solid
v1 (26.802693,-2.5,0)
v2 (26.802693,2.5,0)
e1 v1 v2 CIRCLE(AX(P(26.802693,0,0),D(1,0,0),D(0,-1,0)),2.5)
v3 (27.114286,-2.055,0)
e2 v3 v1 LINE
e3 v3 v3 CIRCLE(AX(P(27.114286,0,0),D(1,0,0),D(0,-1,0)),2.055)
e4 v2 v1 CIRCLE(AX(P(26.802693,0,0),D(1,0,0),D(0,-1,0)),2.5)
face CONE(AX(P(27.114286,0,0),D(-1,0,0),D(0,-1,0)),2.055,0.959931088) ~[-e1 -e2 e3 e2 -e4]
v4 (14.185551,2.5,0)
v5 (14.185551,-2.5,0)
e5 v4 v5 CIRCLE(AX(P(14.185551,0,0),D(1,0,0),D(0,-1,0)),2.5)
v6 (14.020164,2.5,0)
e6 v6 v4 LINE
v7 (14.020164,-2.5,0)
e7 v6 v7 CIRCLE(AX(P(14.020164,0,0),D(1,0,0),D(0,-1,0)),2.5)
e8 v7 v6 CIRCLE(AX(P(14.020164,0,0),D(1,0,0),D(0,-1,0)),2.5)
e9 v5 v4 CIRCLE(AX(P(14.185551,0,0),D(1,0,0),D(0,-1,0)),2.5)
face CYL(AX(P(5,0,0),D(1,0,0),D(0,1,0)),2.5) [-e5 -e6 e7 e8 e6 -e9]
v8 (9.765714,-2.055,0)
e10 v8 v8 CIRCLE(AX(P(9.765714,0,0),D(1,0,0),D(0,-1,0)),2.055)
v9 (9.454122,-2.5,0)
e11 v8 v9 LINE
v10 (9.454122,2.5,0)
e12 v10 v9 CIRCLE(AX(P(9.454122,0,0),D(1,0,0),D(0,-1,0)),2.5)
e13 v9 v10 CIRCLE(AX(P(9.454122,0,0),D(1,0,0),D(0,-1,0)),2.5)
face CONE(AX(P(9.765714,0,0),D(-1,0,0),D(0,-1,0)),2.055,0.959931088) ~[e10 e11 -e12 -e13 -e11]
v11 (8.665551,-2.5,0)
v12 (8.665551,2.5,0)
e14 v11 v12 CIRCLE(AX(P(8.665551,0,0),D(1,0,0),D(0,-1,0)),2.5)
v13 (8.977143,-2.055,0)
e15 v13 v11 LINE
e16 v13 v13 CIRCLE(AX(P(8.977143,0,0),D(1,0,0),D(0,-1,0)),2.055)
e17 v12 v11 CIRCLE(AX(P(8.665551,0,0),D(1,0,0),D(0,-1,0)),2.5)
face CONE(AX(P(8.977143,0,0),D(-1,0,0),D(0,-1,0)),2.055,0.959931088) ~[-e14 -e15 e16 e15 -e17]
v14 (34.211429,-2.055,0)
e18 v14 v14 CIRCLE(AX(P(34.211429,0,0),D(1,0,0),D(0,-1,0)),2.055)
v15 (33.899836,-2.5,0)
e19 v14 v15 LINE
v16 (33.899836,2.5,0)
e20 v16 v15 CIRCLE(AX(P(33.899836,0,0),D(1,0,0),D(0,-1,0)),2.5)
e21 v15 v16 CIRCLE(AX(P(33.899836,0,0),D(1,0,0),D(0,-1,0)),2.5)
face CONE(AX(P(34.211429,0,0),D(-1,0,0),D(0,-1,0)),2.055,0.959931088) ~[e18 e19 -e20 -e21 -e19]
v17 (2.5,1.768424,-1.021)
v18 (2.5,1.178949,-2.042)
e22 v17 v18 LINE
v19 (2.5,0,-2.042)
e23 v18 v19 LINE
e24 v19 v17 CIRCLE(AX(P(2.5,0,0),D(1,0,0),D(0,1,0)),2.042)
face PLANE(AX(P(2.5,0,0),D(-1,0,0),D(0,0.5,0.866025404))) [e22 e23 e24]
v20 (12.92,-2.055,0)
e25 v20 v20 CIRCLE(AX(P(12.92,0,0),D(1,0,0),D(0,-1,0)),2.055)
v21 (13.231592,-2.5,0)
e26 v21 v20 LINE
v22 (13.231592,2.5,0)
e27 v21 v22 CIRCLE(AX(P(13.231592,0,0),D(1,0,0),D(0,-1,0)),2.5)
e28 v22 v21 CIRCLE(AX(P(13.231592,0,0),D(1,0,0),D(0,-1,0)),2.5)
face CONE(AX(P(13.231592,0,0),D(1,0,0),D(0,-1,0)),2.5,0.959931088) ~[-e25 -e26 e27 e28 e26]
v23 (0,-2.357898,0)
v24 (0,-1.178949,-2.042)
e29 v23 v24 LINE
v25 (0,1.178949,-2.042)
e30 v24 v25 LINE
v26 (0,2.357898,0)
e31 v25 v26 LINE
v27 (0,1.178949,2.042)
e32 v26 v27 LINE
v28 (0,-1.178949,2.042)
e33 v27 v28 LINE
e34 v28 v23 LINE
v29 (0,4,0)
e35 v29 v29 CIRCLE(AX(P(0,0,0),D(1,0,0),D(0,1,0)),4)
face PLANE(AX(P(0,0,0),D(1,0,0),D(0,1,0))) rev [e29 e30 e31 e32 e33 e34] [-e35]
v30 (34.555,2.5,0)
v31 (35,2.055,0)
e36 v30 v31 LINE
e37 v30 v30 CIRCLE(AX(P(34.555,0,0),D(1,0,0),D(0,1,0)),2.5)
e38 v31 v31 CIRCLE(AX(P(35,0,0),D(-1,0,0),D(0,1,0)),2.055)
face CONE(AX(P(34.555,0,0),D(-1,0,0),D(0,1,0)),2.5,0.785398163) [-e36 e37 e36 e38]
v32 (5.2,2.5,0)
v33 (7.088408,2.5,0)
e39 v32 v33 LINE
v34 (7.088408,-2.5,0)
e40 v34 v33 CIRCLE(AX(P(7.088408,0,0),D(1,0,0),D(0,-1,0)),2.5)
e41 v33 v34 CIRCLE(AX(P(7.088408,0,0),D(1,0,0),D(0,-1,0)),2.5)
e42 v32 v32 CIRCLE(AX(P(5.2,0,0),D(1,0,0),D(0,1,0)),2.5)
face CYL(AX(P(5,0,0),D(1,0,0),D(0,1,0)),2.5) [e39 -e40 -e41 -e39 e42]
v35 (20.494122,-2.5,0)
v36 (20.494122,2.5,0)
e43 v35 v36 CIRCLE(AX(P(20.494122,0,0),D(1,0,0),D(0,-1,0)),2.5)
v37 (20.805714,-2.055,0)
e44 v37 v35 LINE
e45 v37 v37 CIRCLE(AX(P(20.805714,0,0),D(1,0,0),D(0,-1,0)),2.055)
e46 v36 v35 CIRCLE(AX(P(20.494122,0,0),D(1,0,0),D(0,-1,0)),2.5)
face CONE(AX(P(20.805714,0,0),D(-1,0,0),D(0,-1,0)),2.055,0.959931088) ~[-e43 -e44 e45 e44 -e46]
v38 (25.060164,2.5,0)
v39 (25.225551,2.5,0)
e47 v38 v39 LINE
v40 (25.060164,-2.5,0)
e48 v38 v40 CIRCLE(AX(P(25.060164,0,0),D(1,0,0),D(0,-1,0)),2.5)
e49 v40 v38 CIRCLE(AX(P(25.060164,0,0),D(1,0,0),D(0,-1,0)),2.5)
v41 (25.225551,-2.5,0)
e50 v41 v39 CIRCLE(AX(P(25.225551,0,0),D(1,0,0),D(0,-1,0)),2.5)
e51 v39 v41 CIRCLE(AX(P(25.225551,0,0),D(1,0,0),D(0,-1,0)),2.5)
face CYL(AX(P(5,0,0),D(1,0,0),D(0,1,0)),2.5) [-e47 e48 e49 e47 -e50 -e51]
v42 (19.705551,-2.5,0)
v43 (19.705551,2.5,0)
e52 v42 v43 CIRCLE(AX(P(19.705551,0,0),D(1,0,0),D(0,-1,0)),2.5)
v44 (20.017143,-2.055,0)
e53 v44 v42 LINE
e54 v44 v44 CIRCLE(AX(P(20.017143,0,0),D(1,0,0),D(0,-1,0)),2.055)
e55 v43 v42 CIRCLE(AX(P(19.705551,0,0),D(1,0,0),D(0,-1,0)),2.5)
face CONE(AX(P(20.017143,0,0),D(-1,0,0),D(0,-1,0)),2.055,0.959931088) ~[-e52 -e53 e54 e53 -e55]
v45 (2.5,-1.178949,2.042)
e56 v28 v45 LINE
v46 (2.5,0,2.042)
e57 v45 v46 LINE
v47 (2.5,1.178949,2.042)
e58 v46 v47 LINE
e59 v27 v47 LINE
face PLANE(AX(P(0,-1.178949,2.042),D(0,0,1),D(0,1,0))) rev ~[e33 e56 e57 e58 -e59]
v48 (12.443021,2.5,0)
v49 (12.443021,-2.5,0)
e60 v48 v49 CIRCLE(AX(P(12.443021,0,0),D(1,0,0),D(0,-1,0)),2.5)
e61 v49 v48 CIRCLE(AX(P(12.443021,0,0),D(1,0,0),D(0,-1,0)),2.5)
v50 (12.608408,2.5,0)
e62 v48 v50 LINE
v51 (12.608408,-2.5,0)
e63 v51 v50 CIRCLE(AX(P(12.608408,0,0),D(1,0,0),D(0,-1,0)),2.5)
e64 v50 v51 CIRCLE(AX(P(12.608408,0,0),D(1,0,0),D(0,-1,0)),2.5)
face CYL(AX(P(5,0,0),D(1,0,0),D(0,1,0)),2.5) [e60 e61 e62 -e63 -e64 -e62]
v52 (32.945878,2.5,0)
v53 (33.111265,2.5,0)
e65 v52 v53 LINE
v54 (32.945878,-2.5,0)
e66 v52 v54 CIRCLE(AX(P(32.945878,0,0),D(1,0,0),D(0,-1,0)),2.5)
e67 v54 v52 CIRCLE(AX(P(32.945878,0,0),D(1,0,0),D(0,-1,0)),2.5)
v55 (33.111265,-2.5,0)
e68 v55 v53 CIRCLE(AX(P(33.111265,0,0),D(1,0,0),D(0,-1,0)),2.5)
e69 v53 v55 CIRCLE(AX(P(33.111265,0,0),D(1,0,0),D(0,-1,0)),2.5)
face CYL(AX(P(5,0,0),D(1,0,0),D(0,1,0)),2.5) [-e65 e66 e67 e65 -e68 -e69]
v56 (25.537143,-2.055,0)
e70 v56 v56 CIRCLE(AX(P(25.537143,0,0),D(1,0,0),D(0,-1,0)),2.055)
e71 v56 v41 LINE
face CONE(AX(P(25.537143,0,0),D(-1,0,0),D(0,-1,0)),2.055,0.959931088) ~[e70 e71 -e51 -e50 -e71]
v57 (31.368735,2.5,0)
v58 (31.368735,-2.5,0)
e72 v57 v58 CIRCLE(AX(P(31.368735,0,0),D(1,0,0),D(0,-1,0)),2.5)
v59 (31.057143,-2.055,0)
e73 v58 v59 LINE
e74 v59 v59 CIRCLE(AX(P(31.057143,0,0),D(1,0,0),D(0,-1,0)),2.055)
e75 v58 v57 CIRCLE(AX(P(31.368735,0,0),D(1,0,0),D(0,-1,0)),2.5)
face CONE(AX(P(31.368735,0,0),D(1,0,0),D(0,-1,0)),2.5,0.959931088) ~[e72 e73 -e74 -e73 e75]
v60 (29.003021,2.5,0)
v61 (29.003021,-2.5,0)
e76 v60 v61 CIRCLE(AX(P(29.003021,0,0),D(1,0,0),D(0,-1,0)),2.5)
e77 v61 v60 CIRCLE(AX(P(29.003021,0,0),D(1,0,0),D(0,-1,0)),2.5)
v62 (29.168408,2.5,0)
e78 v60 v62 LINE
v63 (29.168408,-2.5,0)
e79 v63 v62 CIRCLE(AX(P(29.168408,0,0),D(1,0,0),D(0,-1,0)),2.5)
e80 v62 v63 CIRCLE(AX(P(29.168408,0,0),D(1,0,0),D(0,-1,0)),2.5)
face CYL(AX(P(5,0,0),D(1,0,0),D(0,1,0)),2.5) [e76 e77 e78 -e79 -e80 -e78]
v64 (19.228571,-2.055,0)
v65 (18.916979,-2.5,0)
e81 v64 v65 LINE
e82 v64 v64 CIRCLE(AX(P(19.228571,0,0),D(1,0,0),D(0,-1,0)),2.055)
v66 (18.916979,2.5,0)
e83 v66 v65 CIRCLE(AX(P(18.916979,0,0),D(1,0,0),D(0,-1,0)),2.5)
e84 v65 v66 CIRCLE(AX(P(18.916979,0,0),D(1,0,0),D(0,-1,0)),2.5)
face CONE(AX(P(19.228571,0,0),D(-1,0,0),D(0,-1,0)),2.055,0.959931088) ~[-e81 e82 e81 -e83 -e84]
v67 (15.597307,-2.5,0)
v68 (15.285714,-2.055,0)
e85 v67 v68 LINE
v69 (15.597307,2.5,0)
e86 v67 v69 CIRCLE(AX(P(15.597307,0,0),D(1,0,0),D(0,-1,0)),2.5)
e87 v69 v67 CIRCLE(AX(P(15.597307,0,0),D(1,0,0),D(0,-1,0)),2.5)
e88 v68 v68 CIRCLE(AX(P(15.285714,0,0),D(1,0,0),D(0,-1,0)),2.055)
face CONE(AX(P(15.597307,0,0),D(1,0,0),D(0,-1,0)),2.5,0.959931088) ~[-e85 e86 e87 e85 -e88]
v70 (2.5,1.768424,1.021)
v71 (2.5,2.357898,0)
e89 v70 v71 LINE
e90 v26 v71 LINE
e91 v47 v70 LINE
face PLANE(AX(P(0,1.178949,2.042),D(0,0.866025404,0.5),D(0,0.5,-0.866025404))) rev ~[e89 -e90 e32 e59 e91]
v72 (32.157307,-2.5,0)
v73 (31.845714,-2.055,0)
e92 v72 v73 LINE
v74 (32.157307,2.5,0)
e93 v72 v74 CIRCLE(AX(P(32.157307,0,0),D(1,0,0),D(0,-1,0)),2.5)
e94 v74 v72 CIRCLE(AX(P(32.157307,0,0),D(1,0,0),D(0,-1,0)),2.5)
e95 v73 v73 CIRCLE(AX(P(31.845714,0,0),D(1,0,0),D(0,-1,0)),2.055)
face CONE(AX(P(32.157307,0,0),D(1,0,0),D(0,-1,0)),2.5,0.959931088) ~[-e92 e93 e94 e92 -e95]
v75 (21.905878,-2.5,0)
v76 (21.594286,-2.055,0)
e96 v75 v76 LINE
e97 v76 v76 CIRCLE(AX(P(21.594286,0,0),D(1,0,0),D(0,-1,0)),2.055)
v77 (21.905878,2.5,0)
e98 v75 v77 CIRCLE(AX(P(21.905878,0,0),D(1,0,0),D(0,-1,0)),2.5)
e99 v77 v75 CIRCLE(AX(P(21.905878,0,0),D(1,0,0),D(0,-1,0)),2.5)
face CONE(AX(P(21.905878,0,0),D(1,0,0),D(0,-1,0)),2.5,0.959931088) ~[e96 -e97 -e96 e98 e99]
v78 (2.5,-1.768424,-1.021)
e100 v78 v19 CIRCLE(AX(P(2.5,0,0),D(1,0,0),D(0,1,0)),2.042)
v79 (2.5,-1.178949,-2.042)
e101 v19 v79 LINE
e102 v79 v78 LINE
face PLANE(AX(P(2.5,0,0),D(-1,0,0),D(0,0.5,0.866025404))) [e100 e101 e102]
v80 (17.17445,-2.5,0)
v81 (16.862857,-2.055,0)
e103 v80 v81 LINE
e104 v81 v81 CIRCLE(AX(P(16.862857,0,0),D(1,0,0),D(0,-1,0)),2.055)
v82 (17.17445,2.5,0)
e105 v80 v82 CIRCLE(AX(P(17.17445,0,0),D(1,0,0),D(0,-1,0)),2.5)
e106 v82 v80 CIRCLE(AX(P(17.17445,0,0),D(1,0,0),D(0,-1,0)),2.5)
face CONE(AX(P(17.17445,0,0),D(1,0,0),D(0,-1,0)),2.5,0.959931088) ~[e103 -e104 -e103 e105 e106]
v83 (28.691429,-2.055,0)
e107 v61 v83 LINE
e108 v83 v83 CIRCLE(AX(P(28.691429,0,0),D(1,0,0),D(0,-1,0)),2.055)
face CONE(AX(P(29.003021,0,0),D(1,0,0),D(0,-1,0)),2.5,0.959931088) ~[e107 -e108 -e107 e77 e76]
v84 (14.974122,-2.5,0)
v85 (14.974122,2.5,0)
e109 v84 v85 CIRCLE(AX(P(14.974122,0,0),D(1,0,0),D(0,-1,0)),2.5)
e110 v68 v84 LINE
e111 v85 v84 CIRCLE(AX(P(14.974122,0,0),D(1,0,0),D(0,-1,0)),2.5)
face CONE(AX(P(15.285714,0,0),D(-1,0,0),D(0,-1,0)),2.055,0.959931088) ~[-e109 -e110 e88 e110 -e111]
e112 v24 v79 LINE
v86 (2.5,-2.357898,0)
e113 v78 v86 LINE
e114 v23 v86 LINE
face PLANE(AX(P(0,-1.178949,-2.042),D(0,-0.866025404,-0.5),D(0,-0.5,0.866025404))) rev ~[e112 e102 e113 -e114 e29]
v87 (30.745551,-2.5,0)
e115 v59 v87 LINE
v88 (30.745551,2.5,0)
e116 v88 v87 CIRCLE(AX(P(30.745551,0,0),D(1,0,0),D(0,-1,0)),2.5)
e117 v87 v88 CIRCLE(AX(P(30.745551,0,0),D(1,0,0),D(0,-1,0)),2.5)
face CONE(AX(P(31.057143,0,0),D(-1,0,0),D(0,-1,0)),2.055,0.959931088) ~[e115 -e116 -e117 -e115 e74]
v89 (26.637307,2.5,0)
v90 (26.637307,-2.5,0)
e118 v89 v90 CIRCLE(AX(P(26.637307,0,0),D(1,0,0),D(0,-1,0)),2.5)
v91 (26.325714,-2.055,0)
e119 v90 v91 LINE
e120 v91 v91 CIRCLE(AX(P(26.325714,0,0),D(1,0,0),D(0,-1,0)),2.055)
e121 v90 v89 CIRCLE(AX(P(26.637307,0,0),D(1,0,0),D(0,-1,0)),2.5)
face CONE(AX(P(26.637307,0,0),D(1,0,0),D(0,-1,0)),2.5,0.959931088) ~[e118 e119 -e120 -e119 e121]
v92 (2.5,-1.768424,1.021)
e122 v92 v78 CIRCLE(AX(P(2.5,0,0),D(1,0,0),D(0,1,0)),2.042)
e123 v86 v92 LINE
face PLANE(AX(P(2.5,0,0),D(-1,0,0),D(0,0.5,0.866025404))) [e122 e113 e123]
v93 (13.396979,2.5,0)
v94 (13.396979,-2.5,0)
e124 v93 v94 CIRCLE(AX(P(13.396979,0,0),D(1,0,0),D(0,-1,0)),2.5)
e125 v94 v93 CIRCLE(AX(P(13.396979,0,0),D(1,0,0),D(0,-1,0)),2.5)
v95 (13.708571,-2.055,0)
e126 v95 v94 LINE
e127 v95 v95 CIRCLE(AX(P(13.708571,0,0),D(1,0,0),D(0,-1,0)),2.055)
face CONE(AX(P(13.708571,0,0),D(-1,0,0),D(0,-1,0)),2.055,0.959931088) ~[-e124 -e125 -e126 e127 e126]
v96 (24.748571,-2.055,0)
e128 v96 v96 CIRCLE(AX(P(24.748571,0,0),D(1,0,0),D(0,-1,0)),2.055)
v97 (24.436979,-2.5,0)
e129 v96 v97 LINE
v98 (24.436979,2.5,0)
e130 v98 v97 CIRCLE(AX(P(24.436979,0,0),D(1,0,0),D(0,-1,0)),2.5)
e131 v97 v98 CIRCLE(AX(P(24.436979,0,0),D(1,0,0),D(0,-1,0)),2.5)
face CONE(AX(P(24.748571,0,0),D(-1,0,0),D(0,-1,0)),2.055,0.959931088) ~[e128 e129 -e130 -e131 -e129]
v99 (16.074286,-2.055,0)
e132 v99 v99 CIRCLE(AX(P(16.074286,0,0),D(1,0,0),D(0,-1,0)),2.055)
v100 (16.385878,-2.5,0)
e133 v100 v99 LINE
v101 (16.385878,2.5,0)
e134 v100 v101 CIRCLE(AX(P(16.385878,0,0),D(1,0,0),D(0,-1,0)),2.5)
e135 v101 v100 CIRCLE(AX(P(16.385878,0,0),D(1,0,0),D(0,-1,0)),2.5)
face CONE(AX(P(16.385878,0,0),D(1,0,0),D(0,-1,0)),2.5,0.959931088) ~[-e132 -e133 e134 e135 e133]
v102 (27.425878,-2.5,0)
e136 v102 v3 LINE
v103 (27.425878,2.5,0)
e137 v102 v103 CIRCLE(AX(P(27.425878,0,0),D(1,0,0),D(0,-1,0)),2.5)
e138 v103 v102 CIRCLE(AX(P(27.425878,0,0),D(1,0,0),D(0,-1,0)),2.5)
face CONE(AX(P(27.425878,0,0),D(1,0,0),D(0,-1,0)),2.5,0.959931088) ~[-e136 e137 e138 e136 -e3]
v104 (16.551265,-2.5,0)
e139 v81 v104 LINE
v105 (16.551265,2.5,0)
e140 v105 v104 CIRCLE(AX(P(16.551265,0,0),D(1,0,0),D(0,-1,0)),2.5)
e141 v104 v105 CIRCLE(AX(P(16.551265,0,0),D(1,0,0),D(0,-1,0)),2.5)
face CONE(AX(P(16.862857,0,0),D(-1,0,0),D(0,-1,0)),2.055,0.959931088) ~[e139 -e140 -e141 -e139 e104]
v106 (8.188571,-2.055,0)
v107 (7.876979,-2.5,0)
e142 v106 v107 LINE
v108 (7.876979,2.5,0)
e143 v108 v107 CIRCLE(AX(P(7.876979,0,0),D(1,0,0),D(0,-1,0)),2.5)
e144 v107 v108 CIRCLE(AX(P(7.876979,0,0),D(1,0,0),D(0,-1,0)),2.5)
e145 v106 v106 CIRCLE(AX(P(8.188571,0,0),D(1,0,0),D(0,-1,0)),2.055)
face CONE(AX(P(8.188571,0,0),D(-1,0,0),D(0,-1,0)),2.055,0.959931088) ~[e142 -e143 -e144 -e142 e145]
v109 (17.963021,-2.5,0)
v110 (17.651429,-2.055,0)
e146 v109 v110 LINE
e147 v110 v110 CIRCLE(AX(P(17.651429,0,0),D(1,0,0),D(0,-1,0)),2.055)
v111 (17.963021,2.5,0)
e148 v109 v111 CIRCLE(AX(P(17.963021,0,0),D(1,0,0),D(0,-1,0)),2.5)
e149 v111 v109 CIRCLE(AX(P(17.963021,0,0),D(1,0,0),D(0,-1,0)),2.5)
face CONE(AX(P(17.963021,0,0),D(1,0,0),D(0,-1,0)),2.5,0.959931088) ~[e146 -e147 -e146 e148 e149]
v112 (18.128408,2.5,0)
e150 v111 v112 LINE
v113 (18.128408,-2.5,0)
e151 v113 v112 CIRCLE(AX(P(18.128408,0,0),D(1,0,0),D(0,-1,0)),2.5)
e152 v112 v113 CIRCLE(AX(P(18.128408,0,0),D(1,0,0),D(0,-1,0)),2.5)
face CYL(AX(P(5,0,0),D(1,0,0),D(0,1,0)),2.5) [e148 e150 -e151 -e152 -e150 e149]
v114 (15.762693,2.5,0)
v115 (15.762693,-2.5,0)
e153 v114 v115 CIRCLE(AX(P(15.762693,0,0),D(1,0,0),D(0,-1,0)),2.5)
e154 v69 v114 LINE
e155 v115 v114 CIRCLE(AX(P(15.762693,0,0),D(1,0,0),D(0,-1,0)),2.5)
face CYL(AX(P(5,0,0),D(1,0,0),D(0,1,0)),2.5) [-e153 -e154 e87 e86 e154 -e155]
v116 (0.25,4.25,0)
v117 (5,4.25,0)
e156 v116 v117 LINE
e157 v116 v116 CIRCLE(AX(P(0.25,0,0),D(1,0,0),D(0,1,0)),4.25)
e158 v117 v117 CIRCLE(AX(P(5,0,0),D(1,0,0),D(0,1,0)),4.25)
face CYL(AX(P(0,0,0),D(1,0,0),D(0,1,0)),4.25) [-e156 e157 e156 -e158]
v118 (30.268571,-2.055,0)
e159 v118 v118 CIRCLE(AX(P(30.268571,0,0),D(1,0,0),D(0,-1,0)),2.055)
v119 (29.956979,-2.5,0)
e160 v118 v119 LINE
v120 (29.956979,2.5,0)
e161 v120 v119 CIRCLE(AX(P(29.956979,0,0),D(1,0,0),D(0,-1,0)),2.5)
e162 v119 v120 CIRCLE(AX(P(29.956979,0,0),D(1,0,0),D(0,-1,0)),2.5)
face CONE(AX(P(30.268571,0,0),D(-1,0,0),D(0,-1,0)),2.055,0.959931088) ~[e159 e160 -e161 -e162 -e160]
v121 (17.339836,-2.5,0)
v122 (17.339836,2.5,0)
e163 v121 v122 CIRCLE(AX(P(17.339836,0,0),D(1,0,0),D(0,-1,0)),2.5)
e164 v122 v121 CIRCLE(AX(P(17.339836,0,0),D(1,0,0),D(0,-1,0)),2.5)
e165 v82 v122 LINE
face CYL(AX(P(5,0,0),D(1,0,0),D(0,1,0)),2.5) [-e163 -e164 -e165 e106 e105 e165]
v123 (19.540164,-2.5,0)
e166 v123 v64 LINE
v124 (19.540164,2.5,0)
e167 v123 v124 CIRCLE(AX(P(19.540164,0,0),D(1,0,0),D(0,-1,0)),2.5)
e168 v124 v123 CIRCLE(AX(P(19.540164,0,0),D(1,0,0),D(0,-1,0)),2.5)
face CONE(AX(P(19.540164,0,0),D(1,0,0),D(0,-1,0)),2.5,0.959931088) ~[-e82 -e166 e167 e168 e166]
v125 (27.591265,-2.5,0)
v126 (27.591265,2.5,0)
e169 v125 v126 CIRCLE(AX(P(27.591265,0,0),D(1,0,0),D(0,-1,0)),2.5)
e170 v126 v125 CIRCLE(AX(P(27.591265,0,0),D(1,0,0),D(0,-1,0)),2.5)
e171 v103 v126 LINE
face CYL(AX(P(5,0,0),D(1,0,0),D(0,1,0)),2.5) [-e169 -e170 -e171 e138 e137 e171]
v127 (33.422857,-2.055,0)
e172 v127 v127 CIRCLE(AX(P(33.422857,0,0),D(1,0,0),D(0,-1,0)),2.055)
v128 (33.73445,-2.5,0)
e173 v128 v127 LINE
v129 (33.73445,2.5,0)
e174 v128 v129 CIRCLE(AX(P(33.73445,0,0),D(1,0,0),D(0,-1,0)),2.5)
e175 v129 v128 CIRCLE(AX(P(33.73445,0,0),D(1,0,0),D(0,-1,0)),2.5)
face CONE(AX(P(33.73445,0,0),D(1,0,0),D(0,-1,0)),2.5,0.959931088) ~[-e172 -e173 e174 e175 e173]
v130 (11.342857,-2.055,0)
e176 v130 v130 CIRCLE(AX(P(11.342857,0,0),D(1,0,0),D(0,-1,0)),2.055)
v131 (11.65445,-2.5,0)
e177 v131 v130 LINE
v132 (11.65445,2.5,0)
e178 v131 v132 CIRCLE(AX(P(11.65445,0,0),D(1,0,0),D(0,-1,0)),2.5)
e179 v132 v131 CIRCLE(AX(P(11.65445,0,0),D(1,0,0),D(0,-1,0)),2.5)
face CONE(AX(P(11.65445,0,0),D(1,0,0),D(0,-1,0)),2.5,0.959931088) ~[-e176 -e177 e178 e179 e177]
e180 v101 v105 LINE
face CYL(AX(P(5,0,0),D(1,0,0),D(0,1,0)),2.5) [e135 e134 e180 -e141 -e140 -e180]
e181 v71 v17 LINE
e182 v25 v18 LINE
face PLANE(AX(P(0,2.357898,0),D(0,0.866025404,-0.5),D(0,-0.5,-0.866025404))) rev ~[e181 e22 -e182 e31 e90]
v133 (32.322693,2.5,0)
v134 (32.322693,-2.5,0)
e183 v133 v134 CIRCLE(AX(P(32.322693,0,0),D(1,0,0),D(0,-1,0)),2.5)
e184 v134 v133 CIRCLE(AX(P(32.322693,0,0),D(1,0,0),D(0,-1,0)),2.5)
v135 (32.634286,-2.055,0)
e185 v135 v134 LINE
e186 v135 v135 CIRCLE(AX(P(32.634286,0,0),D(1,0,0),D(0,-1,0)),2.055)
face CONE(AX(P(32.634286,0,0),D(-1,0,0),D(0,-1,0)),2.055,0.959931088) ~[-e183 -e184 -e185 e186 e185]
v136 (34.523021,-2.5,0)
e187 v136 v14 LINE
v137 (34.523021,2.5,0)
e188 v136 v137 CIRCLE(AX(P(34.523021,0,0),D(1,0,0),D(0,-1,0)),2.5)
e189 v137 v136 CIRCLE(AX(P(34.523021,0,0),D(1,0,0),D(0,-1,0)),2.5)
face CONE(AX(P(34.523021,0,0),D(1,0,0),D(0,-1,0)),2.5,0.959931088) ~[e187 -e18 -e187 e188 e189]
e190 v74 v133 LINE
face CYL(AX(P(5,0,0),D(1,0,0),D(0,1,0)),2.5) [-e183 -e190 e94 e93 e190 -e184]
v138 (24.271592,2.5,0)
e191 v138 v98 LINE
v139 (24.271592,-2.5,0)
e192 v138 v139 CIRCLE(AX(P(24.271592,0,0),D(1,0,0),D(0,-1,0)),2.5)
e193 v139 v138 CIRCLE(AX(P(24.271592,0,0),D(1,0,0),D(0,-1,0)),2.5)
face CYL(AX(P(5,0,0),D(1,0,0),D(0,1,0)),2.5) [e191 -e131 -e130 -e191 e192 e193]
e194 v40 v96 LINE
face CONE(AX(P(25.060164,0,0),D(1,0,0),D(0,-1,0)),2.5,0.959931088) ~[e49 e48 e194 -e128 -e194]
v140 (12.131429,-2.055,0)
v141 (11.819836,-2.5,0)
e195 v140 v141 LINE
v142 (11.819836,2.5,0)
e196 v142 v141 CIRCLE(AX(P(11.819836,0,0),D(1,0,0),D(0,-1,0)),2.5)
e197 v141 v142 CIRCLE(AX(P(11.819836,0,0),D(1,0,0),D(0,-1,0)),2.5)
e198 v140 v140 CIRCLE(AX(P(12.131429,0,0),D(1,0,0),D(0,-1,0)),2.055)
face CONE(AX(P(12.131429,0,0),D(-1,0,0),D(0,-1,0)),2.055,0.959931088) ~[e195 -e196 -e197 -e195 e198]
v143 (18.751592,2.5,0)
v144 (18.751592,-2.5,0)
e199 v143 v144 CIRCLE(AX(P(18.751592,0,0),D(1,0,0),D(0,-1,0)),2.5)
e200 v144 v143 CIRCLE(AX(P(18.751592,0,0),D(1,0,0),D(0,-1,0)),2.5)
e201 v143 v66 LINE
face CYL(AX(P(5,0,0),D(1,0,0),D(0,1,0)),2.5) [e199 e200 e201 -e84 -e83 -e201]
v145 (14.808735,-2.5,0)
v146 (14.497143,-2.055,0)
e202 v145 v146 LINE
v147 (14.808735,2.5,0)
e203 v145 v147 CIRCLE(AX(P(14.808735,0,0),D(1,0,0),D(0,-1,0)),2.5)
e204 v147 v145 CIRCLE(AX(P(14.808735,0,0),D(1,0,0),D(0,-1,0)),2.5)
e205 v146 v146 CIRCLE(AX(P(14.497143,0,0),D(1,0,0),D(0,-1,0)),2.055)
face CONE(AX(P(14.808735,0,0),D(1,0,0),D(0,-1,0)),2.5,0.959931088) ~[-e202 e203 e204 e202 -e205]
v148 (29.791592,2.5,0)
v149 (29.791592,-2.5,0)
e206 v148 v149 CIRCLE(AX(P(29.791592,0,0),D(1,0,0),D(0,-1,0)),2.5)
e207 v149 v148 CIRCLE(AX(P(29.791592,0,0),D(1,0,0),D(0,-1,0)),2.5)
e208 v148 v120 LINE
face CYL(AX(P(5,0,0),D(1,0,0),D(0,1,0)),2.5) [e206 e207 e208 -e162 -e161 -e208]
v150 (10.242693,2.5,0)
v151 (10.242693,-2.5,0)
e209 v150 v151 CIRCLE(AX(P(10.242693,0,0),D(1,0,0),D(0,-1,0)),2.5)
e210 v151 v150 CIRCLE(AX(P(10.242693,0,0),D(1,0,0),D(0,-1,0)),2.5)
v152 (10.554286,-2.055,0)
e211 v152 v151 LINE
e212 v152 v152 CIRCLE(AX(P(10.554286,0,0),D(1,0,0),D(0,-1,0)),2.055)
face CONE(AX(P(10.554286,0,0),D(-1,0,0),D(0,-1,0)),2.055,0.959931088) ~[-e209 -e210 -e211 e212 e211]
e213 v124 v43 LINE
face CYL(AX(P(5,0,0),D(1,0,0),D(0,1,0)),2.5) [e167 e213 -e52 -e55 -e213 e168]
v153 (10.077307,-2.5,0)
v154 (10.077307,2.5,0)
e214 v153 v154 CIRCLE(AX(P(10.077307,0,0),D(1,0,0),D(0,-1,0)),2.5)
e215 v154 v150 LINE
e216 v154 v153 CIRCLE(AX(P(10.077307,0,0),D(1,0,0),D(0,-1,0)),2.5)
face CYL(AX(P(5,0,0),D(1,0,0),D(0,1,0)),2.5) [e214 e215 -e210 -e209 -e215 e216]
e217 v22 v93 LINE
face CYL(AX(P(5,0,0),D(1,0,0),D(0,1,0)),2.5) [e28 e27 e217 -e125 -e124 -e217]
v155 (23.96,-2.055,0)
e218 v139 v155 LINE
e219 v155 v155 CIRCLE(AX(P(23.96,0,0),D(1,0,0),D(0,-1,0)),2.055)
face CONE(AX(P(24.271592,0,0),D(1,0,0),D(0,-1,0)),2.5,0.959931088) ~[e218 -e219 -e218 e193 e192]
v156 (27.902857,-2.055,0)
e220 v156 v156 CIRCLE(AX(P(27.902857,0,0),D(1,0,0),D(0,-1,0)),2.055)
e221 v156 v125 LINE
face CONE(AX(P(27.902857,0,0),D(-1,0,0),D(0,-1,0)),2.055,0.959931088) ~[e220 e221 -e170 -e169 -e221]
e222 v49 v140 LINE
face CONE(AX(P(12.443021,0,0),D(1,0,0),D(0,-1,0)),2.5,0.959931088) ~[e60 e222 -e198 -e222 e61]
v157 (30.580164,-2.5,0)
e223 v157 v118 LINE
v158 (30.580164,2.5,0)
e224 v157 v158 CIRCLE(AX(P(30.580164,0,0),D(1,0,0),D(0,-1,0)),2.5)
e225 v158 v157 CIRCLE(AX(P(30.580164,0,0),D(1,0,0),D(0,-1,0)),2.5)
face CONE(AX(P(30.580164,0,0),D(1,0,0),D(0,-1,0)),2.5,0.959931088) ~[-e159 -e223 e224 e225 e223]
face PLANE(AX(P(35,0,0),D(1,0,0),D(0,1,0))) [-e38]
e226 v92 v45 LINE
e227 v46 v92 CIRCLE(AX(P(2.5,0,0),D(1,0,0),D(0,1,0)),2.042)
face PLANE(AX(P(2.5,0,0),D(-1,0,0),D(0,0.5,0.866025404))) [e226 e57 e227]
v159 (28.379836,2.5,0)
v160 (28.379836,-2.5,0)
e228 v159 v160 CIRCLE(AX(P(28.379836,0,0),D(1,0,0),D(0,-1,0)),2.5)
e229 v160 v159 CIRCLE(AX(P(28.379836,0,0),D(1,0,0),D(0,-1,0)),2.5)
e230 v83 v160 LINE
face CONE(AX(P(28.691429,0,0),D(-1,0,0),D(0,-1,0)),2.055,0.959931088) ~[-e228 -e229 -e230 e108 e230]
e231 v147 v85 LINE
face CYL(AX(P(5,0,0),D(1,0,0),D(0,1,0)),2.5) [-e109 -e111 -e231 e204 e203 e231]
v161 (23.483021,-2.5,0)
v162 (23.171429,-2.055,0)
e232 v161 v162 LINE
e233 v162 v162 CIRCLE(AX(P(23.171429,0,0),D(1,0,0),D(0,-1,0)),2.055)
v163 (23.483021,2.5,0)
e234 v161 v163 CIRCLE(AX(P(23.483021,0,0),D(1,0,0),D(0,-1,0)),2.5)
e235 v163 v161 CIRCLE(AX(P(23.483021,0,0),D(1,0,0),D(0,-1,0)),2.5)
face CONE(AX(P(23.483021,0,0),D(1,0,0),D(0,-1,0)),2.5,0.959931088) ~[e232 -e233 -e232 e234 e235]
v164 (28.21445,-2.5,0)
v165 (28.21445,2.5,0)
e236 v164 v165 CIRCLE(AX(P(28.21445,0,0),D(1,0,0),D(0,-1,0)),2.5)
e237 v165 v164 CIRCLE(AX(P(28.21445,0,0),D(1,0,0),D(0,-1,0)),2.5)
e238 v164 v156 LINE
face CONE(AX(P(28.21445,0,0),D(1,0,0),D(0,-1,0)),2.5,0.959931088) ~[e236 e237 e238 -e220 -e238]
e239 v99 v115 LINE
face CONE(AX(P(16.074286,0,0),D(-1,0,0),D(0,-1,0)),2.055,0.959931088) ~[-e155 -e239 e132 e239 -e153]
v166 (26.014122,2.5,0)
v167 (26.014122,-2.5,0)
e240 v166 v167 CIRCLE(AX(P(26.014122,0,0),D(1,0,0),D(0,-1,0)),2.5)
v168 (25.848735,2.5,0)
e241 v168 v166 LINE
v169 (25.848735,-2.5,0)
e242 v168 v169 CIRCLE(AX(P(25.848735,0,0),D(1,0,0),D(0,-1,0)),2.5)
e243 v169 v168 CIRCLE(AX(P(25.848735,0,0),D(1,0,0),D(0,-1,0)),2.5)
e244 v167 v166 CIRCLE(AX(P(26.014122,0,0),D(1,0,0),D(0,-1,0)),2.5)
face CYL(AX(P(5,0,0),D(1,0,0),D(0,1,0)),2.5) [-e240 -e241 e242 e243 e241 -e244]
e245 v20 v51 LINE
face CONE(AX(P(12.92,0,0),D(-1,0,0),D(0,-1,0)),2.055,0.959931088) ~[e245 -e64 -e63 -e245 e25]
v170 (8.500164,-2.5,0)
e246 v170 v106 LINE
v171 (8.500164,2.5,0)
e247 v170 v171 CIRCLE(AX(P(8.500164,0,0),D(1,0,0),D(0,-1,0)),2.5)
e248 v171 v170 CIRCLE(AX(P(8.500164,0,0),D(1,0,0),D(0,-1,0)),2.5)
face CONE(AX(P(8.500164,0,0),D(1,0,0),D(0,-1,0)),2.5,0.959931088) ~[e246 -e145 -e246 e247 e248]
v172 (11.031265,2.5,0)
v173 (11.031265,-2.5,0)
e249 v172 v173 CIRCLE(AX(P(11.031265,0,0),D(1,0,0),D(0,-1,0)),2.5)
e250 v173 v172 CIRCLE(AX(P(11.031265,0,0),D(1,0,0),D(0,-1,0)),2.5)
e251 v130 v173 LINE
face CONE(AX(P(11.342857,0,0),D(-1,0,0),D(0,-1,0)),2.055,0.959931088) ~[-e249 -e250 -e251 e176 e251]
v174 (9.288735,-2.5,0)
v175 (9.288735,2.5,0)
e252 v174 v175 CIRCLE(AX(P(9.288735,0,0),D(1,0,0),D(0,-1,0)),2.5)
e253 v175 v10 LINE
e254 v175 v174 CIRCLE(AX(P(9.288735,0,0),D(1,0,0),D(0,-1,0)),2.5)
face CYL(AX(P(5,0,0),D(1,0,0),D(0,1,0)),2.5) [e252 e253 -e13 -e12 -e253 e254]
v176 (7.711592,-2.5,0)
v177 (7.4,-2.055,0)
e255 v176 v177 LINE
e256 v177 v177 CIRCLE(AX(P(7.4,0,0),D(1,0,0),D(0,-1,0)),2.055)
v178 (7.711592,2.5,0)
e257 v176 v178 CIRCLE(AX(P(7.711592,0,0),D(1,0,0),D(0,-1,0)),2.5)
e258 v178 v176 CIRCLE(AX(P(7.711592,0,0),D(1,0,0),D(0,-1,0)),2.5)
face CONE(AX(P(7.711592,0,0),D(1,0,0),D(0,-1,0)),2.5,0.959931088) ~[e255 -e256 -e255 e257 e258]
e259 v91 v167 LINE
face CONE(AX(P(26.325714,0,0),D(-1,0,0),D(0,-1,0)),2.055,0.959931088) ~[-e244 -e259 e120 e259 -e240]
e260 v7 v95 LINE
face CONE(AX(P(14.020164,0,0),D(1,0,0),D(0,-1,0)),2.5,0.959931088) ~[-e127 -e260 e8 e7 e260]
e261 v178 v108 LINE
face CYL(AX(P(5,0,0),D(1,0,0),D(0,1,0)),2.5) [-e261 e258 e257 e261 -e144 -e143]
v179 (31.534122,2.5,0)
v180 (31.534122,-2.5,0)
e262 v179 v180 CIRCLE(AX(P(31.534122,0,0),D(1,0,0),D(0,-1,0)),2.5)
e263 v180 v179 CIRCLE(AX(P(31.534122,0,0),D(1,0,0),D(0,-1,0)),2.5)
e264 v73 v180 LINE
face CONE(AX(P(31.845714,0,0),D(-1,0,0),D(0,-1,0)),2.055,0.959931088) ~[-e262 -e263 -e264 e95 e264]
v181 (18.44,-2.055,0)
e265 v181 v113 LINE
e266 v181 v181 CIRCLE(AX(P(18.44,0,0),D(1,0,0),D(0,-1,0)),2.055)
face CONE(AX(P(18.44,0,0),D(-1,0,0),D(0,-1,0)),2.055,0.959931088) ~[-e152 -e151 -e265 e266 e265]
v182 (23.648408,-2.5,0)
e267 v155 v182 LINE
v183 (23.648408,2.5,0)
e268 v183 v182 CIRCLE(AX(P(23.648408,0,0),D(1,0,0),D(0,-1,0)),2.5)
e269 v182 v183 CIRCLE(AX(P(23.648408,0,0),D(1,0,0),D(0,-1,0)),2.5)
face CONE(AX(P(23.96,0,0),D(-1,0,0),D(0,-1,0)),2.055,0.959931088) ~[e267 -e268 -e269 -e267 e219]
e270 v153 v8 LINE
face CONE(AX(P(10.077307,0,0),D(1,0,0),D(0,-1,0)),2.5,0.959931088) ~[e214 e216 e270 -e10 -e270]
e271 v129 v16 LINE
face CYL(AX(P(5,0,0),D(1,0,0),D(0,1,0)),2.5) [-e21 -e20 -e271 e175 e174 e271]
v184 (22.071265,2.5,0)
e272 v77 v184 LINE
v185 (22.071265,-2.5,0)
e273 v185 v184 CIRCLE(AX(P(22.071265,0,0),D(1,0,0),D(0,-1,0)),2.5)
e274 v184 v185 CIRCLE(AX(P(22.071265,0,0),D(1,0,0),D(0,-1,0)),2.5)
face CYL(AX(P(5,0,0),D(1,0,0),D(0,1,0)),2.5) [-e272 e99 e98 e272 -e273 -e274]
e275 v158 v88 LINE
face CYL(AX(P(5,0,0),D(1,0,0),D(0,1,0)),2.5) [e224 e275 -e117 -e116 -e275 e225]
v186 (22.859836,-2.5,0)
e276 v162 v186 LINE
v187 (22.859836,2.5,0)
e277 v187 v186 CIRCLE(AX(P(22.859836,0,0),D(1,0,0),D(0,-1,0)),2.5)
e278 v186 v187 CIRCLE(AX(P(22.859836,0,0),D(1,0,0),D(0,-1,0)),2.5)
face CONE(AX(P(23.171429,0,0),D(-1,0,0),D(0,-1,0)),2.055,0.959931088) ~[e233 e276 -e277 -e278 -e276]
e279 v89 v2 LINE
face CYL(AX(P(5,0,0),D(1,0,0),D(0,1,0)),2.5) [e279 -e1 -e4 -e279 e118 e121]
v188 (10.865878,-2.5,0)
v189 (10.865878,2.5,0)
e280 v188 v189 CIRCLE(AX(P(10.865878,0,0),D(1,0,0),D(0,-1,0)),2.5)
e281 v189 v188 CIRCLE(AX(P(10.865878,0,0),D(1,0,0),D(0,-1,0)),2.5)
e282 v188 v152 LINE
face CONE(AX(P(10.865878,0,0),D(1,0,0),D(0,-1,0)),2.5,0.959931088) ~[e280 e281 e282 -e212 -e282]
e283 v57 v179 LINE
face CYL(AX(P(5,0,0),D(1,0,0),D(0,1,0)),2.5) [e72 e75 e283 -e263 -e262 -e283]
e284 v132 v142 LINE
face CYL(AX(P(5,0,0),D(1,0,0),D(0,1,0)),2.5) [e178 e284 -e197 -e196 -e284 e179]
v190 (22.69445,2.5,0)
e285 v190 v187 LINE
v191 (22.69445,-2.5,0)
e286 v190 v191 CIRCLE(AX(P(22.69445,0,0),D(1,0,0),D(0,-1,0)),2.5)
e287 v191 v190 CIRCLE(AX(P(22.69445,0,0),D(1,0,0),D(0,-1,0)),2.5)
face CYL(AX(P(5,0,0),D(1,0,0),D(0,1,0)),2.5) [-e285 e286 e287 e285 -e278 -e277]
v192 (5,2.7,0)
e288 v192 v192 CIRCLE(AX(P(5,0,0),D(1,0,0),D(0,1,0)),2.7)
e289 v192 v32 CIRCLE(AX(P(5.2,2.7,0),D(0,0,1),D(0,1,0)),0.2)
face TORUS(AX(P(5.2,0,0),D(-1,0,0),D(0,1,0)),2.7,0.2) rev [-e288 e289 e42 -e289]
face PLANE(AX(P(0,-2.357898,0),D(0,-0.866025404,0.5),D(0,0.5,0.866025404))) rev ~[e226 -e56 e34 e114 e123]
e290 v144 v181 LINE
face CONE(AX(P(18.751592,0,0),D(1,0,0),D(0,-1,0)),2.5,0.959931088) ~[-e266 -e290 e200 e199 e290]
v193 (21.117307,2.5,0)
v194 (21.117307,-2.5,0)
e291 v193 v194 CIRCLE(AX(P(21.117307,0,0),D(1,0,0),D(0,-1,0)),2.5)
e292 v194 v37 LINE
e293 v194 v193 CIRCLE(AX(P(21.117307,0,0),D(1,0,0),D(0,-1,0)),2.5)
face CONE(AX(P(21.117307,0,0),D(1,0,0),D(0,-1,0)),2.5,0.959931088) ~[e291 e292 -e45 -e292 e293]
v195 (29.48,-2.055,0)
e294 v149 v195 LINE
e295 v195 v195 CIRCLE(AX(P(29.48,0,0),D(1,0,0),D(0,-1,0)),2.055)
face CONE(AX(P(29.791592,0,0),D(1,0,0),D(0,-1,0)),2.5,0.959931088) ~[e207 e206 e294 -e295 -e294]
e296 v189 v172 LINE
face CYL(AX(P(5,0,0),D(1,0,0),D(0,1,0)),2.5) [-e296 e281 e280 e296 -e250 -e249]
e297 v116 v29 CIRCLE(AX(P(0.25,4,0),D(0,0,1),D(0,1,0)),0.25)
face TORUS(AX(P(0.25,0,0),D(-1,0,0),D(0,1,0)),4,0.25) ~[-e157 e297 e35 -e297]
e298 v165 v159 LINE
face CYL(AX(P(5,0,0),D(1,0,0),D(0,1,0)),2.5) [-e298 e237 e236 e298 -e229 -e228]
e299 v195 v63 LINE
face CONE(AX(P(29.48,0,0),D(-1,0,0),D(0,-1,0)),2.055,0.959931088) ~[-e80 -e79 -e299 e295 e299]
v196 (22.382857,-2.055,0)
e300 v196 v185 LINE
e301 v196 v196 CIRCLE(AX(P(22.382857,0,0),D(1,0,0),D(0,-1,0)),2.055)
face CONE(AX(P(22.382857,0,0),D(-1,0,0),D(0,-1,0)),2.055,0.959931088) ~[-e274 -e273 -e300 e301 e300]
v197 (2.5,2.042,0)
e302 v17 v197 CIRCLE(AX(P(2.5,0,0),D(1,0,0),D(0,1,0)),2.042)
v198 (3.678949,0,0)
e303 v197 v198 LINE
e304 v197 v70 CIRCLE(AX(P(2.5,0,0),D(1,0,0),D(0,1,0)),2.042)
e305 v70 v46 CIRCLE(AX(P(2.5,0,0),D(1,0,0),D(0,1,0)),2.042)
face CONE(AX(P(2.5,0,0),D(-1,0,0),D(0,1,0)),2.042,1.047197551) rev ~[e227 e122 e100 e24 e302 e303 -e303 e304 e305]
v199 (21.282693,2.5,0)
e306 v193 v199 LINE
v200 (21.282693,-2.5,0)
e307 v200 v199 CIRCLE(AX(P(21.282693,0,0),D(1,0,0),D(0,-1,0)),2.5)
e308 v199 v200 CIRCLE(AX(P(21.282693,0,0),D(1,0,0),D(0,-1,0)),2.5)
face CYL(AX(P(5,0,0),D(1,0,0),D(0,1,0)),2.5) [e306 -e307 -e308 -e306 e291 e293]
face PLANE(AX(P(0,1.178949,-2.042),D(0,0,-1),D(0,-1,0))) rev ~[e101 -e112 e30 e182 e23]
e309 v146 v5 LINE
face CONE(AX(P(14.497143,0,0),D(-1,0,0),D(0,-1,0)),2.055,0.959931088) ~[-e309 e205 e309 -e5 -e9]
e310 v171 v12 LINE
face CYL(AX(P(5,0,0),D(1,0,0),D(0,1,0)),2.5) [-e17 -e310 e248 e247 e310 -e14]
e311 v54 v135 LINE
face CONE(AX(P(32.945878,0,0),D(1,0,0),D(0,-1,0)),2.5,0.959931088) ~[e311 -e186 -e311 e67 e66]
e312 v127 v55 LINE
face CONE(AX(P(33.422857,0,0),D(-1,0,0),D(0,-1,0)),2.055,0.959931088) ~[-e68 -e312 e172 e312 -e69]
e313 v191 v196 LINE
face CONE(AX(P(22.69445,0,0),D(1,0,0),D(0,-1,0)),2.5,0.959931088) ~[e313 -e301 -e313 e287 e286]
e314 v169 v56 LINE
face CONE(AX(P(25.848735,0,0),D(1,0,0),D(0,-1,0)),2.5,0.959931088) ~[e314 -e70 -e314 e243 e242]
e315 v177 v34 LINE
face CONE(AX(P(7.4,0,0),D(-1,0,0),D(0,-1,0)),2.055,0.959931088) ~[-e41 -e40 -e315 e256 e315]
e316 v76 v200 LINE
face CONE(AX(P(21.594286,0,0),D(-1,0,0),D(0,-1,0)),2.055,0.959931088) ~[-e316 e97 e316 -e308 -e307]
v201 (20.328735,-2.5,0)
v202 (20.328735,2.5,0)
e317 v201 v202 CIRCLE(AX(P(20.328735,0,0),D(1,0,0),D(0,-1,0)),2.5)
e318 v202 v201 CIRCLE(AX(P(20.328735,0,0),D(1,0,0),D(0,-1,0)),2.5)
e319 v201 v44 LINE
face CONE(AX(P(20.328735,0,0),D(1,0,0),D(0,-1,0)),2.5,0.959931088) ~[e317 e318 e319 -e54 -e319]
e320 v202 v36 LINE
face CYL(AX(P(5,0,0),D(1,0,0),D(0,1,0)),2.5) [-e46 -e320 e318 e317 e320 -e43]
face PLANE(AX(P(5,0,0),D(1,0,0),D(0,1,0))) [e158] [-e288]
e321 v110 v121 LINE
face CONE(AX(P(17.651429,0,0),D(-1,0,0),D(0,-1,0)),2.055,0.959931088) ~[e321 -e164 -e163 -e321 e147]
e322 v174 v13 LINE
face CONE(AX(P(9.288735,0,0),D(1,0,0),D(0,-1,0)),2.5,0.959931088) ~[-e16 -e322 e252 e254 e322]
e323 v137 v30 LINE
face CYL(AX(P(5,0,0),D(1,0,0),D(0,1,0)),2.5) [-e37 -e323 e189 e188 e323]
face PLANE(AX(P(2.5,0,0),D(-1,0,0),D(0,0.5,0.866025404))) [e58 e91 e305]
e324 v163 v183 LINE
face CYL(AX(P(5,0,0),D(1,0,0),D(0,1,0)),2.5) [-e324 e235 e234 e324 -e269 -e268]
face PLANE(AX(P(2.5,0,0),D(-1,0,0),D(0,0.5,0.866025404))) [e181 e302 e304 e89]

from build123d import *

# Parameters (mm, degrees)
FILLET1_R       = 0.2
FILLET2_R       = 0.25
HEX_2_DEPTH     = 2.5
THDSCHPAT_COUNT = 36
THDSCHPAT_PITCH = 0.788571429


with BuildPart() as part:
    # BodySke → Base-Revolve (revolve)
    with BuildSketch(Plane.XY):
        Polygon((0, 0), (0, 4.25), (5, 4.25), (5, 2.5), (34.555, 2.5), (35, 2.055), (35, 0), align=None)
    revolve(axis=Axis((-31.75, 0, 0), (1, 0, 0)))

    # Fillet1
    fillet1_edges = [part.edges().sort_by_distance(p)[0] for p in [
        (5, -2.5, 0),
    ]]
    fillet(fillet1_edges, radius=FILLET1_R)

    # Fillet2
    fillet2_edges = [part.edges().sort_by_distance(p)[0] for p in [
        (0, -4.25, 0),
    ]]
    fillet(fillet2_edges, radius=FILLET2_R)

    # Sketch2 → Hex-PreBroach (revolve, cut)
    with BuildSketch(Plane.XY):
        Polygon((0, 2.042), (2.5, 2.042), (3.67894925, 0), (0, 0), align=None)
    revolve(axis=Axis((0, 0, 0), (1, 0, 0)), mode=Mode.SUBTRACT)

    # Sketch3 → Hex 2 (cut)
    with BuildSketch(Plane(origin=(0, 0, 0), x_dir=(0, 0.5, 0.866025404), z_dir=(-1, 0, 0))):
        Polygon((1.17894925, 2.042), (-1.17894925, 2.042), (-2.357898499, 0), (-1.17894925, -2.042), (1.17894925, -2.042), (2.357898499, 0), align=None)
    extrude(amount=-HEX_2_DEPTH, mode=Mode.SUBTRACT)

    # ThdSchSke → ThreadSchematic (revolve, cut)
    with BuildSketch(Plane.XY):
        Polygon((7.4, -2.055), (7.088407645, -2.5), (7.088407645, -3.125), (7.711592355, -3.125), (7.711592355, -2.5), align=None)
    threadschematic = revolve(axis=Axis((-3.175, 0, 0), (1, 0, 0)), mode=Mode.SUBTRACT)

    # ThdSchPat: ThreadSchematic ×36
    with Locations(*[(i * THDSCHPAT_PITCH, 0, 0) for i in range(1, THDSCHPAT_COUNT)]):
        add(threadschematic, mode=Mode.SUBTRACT)


solid = part.part
